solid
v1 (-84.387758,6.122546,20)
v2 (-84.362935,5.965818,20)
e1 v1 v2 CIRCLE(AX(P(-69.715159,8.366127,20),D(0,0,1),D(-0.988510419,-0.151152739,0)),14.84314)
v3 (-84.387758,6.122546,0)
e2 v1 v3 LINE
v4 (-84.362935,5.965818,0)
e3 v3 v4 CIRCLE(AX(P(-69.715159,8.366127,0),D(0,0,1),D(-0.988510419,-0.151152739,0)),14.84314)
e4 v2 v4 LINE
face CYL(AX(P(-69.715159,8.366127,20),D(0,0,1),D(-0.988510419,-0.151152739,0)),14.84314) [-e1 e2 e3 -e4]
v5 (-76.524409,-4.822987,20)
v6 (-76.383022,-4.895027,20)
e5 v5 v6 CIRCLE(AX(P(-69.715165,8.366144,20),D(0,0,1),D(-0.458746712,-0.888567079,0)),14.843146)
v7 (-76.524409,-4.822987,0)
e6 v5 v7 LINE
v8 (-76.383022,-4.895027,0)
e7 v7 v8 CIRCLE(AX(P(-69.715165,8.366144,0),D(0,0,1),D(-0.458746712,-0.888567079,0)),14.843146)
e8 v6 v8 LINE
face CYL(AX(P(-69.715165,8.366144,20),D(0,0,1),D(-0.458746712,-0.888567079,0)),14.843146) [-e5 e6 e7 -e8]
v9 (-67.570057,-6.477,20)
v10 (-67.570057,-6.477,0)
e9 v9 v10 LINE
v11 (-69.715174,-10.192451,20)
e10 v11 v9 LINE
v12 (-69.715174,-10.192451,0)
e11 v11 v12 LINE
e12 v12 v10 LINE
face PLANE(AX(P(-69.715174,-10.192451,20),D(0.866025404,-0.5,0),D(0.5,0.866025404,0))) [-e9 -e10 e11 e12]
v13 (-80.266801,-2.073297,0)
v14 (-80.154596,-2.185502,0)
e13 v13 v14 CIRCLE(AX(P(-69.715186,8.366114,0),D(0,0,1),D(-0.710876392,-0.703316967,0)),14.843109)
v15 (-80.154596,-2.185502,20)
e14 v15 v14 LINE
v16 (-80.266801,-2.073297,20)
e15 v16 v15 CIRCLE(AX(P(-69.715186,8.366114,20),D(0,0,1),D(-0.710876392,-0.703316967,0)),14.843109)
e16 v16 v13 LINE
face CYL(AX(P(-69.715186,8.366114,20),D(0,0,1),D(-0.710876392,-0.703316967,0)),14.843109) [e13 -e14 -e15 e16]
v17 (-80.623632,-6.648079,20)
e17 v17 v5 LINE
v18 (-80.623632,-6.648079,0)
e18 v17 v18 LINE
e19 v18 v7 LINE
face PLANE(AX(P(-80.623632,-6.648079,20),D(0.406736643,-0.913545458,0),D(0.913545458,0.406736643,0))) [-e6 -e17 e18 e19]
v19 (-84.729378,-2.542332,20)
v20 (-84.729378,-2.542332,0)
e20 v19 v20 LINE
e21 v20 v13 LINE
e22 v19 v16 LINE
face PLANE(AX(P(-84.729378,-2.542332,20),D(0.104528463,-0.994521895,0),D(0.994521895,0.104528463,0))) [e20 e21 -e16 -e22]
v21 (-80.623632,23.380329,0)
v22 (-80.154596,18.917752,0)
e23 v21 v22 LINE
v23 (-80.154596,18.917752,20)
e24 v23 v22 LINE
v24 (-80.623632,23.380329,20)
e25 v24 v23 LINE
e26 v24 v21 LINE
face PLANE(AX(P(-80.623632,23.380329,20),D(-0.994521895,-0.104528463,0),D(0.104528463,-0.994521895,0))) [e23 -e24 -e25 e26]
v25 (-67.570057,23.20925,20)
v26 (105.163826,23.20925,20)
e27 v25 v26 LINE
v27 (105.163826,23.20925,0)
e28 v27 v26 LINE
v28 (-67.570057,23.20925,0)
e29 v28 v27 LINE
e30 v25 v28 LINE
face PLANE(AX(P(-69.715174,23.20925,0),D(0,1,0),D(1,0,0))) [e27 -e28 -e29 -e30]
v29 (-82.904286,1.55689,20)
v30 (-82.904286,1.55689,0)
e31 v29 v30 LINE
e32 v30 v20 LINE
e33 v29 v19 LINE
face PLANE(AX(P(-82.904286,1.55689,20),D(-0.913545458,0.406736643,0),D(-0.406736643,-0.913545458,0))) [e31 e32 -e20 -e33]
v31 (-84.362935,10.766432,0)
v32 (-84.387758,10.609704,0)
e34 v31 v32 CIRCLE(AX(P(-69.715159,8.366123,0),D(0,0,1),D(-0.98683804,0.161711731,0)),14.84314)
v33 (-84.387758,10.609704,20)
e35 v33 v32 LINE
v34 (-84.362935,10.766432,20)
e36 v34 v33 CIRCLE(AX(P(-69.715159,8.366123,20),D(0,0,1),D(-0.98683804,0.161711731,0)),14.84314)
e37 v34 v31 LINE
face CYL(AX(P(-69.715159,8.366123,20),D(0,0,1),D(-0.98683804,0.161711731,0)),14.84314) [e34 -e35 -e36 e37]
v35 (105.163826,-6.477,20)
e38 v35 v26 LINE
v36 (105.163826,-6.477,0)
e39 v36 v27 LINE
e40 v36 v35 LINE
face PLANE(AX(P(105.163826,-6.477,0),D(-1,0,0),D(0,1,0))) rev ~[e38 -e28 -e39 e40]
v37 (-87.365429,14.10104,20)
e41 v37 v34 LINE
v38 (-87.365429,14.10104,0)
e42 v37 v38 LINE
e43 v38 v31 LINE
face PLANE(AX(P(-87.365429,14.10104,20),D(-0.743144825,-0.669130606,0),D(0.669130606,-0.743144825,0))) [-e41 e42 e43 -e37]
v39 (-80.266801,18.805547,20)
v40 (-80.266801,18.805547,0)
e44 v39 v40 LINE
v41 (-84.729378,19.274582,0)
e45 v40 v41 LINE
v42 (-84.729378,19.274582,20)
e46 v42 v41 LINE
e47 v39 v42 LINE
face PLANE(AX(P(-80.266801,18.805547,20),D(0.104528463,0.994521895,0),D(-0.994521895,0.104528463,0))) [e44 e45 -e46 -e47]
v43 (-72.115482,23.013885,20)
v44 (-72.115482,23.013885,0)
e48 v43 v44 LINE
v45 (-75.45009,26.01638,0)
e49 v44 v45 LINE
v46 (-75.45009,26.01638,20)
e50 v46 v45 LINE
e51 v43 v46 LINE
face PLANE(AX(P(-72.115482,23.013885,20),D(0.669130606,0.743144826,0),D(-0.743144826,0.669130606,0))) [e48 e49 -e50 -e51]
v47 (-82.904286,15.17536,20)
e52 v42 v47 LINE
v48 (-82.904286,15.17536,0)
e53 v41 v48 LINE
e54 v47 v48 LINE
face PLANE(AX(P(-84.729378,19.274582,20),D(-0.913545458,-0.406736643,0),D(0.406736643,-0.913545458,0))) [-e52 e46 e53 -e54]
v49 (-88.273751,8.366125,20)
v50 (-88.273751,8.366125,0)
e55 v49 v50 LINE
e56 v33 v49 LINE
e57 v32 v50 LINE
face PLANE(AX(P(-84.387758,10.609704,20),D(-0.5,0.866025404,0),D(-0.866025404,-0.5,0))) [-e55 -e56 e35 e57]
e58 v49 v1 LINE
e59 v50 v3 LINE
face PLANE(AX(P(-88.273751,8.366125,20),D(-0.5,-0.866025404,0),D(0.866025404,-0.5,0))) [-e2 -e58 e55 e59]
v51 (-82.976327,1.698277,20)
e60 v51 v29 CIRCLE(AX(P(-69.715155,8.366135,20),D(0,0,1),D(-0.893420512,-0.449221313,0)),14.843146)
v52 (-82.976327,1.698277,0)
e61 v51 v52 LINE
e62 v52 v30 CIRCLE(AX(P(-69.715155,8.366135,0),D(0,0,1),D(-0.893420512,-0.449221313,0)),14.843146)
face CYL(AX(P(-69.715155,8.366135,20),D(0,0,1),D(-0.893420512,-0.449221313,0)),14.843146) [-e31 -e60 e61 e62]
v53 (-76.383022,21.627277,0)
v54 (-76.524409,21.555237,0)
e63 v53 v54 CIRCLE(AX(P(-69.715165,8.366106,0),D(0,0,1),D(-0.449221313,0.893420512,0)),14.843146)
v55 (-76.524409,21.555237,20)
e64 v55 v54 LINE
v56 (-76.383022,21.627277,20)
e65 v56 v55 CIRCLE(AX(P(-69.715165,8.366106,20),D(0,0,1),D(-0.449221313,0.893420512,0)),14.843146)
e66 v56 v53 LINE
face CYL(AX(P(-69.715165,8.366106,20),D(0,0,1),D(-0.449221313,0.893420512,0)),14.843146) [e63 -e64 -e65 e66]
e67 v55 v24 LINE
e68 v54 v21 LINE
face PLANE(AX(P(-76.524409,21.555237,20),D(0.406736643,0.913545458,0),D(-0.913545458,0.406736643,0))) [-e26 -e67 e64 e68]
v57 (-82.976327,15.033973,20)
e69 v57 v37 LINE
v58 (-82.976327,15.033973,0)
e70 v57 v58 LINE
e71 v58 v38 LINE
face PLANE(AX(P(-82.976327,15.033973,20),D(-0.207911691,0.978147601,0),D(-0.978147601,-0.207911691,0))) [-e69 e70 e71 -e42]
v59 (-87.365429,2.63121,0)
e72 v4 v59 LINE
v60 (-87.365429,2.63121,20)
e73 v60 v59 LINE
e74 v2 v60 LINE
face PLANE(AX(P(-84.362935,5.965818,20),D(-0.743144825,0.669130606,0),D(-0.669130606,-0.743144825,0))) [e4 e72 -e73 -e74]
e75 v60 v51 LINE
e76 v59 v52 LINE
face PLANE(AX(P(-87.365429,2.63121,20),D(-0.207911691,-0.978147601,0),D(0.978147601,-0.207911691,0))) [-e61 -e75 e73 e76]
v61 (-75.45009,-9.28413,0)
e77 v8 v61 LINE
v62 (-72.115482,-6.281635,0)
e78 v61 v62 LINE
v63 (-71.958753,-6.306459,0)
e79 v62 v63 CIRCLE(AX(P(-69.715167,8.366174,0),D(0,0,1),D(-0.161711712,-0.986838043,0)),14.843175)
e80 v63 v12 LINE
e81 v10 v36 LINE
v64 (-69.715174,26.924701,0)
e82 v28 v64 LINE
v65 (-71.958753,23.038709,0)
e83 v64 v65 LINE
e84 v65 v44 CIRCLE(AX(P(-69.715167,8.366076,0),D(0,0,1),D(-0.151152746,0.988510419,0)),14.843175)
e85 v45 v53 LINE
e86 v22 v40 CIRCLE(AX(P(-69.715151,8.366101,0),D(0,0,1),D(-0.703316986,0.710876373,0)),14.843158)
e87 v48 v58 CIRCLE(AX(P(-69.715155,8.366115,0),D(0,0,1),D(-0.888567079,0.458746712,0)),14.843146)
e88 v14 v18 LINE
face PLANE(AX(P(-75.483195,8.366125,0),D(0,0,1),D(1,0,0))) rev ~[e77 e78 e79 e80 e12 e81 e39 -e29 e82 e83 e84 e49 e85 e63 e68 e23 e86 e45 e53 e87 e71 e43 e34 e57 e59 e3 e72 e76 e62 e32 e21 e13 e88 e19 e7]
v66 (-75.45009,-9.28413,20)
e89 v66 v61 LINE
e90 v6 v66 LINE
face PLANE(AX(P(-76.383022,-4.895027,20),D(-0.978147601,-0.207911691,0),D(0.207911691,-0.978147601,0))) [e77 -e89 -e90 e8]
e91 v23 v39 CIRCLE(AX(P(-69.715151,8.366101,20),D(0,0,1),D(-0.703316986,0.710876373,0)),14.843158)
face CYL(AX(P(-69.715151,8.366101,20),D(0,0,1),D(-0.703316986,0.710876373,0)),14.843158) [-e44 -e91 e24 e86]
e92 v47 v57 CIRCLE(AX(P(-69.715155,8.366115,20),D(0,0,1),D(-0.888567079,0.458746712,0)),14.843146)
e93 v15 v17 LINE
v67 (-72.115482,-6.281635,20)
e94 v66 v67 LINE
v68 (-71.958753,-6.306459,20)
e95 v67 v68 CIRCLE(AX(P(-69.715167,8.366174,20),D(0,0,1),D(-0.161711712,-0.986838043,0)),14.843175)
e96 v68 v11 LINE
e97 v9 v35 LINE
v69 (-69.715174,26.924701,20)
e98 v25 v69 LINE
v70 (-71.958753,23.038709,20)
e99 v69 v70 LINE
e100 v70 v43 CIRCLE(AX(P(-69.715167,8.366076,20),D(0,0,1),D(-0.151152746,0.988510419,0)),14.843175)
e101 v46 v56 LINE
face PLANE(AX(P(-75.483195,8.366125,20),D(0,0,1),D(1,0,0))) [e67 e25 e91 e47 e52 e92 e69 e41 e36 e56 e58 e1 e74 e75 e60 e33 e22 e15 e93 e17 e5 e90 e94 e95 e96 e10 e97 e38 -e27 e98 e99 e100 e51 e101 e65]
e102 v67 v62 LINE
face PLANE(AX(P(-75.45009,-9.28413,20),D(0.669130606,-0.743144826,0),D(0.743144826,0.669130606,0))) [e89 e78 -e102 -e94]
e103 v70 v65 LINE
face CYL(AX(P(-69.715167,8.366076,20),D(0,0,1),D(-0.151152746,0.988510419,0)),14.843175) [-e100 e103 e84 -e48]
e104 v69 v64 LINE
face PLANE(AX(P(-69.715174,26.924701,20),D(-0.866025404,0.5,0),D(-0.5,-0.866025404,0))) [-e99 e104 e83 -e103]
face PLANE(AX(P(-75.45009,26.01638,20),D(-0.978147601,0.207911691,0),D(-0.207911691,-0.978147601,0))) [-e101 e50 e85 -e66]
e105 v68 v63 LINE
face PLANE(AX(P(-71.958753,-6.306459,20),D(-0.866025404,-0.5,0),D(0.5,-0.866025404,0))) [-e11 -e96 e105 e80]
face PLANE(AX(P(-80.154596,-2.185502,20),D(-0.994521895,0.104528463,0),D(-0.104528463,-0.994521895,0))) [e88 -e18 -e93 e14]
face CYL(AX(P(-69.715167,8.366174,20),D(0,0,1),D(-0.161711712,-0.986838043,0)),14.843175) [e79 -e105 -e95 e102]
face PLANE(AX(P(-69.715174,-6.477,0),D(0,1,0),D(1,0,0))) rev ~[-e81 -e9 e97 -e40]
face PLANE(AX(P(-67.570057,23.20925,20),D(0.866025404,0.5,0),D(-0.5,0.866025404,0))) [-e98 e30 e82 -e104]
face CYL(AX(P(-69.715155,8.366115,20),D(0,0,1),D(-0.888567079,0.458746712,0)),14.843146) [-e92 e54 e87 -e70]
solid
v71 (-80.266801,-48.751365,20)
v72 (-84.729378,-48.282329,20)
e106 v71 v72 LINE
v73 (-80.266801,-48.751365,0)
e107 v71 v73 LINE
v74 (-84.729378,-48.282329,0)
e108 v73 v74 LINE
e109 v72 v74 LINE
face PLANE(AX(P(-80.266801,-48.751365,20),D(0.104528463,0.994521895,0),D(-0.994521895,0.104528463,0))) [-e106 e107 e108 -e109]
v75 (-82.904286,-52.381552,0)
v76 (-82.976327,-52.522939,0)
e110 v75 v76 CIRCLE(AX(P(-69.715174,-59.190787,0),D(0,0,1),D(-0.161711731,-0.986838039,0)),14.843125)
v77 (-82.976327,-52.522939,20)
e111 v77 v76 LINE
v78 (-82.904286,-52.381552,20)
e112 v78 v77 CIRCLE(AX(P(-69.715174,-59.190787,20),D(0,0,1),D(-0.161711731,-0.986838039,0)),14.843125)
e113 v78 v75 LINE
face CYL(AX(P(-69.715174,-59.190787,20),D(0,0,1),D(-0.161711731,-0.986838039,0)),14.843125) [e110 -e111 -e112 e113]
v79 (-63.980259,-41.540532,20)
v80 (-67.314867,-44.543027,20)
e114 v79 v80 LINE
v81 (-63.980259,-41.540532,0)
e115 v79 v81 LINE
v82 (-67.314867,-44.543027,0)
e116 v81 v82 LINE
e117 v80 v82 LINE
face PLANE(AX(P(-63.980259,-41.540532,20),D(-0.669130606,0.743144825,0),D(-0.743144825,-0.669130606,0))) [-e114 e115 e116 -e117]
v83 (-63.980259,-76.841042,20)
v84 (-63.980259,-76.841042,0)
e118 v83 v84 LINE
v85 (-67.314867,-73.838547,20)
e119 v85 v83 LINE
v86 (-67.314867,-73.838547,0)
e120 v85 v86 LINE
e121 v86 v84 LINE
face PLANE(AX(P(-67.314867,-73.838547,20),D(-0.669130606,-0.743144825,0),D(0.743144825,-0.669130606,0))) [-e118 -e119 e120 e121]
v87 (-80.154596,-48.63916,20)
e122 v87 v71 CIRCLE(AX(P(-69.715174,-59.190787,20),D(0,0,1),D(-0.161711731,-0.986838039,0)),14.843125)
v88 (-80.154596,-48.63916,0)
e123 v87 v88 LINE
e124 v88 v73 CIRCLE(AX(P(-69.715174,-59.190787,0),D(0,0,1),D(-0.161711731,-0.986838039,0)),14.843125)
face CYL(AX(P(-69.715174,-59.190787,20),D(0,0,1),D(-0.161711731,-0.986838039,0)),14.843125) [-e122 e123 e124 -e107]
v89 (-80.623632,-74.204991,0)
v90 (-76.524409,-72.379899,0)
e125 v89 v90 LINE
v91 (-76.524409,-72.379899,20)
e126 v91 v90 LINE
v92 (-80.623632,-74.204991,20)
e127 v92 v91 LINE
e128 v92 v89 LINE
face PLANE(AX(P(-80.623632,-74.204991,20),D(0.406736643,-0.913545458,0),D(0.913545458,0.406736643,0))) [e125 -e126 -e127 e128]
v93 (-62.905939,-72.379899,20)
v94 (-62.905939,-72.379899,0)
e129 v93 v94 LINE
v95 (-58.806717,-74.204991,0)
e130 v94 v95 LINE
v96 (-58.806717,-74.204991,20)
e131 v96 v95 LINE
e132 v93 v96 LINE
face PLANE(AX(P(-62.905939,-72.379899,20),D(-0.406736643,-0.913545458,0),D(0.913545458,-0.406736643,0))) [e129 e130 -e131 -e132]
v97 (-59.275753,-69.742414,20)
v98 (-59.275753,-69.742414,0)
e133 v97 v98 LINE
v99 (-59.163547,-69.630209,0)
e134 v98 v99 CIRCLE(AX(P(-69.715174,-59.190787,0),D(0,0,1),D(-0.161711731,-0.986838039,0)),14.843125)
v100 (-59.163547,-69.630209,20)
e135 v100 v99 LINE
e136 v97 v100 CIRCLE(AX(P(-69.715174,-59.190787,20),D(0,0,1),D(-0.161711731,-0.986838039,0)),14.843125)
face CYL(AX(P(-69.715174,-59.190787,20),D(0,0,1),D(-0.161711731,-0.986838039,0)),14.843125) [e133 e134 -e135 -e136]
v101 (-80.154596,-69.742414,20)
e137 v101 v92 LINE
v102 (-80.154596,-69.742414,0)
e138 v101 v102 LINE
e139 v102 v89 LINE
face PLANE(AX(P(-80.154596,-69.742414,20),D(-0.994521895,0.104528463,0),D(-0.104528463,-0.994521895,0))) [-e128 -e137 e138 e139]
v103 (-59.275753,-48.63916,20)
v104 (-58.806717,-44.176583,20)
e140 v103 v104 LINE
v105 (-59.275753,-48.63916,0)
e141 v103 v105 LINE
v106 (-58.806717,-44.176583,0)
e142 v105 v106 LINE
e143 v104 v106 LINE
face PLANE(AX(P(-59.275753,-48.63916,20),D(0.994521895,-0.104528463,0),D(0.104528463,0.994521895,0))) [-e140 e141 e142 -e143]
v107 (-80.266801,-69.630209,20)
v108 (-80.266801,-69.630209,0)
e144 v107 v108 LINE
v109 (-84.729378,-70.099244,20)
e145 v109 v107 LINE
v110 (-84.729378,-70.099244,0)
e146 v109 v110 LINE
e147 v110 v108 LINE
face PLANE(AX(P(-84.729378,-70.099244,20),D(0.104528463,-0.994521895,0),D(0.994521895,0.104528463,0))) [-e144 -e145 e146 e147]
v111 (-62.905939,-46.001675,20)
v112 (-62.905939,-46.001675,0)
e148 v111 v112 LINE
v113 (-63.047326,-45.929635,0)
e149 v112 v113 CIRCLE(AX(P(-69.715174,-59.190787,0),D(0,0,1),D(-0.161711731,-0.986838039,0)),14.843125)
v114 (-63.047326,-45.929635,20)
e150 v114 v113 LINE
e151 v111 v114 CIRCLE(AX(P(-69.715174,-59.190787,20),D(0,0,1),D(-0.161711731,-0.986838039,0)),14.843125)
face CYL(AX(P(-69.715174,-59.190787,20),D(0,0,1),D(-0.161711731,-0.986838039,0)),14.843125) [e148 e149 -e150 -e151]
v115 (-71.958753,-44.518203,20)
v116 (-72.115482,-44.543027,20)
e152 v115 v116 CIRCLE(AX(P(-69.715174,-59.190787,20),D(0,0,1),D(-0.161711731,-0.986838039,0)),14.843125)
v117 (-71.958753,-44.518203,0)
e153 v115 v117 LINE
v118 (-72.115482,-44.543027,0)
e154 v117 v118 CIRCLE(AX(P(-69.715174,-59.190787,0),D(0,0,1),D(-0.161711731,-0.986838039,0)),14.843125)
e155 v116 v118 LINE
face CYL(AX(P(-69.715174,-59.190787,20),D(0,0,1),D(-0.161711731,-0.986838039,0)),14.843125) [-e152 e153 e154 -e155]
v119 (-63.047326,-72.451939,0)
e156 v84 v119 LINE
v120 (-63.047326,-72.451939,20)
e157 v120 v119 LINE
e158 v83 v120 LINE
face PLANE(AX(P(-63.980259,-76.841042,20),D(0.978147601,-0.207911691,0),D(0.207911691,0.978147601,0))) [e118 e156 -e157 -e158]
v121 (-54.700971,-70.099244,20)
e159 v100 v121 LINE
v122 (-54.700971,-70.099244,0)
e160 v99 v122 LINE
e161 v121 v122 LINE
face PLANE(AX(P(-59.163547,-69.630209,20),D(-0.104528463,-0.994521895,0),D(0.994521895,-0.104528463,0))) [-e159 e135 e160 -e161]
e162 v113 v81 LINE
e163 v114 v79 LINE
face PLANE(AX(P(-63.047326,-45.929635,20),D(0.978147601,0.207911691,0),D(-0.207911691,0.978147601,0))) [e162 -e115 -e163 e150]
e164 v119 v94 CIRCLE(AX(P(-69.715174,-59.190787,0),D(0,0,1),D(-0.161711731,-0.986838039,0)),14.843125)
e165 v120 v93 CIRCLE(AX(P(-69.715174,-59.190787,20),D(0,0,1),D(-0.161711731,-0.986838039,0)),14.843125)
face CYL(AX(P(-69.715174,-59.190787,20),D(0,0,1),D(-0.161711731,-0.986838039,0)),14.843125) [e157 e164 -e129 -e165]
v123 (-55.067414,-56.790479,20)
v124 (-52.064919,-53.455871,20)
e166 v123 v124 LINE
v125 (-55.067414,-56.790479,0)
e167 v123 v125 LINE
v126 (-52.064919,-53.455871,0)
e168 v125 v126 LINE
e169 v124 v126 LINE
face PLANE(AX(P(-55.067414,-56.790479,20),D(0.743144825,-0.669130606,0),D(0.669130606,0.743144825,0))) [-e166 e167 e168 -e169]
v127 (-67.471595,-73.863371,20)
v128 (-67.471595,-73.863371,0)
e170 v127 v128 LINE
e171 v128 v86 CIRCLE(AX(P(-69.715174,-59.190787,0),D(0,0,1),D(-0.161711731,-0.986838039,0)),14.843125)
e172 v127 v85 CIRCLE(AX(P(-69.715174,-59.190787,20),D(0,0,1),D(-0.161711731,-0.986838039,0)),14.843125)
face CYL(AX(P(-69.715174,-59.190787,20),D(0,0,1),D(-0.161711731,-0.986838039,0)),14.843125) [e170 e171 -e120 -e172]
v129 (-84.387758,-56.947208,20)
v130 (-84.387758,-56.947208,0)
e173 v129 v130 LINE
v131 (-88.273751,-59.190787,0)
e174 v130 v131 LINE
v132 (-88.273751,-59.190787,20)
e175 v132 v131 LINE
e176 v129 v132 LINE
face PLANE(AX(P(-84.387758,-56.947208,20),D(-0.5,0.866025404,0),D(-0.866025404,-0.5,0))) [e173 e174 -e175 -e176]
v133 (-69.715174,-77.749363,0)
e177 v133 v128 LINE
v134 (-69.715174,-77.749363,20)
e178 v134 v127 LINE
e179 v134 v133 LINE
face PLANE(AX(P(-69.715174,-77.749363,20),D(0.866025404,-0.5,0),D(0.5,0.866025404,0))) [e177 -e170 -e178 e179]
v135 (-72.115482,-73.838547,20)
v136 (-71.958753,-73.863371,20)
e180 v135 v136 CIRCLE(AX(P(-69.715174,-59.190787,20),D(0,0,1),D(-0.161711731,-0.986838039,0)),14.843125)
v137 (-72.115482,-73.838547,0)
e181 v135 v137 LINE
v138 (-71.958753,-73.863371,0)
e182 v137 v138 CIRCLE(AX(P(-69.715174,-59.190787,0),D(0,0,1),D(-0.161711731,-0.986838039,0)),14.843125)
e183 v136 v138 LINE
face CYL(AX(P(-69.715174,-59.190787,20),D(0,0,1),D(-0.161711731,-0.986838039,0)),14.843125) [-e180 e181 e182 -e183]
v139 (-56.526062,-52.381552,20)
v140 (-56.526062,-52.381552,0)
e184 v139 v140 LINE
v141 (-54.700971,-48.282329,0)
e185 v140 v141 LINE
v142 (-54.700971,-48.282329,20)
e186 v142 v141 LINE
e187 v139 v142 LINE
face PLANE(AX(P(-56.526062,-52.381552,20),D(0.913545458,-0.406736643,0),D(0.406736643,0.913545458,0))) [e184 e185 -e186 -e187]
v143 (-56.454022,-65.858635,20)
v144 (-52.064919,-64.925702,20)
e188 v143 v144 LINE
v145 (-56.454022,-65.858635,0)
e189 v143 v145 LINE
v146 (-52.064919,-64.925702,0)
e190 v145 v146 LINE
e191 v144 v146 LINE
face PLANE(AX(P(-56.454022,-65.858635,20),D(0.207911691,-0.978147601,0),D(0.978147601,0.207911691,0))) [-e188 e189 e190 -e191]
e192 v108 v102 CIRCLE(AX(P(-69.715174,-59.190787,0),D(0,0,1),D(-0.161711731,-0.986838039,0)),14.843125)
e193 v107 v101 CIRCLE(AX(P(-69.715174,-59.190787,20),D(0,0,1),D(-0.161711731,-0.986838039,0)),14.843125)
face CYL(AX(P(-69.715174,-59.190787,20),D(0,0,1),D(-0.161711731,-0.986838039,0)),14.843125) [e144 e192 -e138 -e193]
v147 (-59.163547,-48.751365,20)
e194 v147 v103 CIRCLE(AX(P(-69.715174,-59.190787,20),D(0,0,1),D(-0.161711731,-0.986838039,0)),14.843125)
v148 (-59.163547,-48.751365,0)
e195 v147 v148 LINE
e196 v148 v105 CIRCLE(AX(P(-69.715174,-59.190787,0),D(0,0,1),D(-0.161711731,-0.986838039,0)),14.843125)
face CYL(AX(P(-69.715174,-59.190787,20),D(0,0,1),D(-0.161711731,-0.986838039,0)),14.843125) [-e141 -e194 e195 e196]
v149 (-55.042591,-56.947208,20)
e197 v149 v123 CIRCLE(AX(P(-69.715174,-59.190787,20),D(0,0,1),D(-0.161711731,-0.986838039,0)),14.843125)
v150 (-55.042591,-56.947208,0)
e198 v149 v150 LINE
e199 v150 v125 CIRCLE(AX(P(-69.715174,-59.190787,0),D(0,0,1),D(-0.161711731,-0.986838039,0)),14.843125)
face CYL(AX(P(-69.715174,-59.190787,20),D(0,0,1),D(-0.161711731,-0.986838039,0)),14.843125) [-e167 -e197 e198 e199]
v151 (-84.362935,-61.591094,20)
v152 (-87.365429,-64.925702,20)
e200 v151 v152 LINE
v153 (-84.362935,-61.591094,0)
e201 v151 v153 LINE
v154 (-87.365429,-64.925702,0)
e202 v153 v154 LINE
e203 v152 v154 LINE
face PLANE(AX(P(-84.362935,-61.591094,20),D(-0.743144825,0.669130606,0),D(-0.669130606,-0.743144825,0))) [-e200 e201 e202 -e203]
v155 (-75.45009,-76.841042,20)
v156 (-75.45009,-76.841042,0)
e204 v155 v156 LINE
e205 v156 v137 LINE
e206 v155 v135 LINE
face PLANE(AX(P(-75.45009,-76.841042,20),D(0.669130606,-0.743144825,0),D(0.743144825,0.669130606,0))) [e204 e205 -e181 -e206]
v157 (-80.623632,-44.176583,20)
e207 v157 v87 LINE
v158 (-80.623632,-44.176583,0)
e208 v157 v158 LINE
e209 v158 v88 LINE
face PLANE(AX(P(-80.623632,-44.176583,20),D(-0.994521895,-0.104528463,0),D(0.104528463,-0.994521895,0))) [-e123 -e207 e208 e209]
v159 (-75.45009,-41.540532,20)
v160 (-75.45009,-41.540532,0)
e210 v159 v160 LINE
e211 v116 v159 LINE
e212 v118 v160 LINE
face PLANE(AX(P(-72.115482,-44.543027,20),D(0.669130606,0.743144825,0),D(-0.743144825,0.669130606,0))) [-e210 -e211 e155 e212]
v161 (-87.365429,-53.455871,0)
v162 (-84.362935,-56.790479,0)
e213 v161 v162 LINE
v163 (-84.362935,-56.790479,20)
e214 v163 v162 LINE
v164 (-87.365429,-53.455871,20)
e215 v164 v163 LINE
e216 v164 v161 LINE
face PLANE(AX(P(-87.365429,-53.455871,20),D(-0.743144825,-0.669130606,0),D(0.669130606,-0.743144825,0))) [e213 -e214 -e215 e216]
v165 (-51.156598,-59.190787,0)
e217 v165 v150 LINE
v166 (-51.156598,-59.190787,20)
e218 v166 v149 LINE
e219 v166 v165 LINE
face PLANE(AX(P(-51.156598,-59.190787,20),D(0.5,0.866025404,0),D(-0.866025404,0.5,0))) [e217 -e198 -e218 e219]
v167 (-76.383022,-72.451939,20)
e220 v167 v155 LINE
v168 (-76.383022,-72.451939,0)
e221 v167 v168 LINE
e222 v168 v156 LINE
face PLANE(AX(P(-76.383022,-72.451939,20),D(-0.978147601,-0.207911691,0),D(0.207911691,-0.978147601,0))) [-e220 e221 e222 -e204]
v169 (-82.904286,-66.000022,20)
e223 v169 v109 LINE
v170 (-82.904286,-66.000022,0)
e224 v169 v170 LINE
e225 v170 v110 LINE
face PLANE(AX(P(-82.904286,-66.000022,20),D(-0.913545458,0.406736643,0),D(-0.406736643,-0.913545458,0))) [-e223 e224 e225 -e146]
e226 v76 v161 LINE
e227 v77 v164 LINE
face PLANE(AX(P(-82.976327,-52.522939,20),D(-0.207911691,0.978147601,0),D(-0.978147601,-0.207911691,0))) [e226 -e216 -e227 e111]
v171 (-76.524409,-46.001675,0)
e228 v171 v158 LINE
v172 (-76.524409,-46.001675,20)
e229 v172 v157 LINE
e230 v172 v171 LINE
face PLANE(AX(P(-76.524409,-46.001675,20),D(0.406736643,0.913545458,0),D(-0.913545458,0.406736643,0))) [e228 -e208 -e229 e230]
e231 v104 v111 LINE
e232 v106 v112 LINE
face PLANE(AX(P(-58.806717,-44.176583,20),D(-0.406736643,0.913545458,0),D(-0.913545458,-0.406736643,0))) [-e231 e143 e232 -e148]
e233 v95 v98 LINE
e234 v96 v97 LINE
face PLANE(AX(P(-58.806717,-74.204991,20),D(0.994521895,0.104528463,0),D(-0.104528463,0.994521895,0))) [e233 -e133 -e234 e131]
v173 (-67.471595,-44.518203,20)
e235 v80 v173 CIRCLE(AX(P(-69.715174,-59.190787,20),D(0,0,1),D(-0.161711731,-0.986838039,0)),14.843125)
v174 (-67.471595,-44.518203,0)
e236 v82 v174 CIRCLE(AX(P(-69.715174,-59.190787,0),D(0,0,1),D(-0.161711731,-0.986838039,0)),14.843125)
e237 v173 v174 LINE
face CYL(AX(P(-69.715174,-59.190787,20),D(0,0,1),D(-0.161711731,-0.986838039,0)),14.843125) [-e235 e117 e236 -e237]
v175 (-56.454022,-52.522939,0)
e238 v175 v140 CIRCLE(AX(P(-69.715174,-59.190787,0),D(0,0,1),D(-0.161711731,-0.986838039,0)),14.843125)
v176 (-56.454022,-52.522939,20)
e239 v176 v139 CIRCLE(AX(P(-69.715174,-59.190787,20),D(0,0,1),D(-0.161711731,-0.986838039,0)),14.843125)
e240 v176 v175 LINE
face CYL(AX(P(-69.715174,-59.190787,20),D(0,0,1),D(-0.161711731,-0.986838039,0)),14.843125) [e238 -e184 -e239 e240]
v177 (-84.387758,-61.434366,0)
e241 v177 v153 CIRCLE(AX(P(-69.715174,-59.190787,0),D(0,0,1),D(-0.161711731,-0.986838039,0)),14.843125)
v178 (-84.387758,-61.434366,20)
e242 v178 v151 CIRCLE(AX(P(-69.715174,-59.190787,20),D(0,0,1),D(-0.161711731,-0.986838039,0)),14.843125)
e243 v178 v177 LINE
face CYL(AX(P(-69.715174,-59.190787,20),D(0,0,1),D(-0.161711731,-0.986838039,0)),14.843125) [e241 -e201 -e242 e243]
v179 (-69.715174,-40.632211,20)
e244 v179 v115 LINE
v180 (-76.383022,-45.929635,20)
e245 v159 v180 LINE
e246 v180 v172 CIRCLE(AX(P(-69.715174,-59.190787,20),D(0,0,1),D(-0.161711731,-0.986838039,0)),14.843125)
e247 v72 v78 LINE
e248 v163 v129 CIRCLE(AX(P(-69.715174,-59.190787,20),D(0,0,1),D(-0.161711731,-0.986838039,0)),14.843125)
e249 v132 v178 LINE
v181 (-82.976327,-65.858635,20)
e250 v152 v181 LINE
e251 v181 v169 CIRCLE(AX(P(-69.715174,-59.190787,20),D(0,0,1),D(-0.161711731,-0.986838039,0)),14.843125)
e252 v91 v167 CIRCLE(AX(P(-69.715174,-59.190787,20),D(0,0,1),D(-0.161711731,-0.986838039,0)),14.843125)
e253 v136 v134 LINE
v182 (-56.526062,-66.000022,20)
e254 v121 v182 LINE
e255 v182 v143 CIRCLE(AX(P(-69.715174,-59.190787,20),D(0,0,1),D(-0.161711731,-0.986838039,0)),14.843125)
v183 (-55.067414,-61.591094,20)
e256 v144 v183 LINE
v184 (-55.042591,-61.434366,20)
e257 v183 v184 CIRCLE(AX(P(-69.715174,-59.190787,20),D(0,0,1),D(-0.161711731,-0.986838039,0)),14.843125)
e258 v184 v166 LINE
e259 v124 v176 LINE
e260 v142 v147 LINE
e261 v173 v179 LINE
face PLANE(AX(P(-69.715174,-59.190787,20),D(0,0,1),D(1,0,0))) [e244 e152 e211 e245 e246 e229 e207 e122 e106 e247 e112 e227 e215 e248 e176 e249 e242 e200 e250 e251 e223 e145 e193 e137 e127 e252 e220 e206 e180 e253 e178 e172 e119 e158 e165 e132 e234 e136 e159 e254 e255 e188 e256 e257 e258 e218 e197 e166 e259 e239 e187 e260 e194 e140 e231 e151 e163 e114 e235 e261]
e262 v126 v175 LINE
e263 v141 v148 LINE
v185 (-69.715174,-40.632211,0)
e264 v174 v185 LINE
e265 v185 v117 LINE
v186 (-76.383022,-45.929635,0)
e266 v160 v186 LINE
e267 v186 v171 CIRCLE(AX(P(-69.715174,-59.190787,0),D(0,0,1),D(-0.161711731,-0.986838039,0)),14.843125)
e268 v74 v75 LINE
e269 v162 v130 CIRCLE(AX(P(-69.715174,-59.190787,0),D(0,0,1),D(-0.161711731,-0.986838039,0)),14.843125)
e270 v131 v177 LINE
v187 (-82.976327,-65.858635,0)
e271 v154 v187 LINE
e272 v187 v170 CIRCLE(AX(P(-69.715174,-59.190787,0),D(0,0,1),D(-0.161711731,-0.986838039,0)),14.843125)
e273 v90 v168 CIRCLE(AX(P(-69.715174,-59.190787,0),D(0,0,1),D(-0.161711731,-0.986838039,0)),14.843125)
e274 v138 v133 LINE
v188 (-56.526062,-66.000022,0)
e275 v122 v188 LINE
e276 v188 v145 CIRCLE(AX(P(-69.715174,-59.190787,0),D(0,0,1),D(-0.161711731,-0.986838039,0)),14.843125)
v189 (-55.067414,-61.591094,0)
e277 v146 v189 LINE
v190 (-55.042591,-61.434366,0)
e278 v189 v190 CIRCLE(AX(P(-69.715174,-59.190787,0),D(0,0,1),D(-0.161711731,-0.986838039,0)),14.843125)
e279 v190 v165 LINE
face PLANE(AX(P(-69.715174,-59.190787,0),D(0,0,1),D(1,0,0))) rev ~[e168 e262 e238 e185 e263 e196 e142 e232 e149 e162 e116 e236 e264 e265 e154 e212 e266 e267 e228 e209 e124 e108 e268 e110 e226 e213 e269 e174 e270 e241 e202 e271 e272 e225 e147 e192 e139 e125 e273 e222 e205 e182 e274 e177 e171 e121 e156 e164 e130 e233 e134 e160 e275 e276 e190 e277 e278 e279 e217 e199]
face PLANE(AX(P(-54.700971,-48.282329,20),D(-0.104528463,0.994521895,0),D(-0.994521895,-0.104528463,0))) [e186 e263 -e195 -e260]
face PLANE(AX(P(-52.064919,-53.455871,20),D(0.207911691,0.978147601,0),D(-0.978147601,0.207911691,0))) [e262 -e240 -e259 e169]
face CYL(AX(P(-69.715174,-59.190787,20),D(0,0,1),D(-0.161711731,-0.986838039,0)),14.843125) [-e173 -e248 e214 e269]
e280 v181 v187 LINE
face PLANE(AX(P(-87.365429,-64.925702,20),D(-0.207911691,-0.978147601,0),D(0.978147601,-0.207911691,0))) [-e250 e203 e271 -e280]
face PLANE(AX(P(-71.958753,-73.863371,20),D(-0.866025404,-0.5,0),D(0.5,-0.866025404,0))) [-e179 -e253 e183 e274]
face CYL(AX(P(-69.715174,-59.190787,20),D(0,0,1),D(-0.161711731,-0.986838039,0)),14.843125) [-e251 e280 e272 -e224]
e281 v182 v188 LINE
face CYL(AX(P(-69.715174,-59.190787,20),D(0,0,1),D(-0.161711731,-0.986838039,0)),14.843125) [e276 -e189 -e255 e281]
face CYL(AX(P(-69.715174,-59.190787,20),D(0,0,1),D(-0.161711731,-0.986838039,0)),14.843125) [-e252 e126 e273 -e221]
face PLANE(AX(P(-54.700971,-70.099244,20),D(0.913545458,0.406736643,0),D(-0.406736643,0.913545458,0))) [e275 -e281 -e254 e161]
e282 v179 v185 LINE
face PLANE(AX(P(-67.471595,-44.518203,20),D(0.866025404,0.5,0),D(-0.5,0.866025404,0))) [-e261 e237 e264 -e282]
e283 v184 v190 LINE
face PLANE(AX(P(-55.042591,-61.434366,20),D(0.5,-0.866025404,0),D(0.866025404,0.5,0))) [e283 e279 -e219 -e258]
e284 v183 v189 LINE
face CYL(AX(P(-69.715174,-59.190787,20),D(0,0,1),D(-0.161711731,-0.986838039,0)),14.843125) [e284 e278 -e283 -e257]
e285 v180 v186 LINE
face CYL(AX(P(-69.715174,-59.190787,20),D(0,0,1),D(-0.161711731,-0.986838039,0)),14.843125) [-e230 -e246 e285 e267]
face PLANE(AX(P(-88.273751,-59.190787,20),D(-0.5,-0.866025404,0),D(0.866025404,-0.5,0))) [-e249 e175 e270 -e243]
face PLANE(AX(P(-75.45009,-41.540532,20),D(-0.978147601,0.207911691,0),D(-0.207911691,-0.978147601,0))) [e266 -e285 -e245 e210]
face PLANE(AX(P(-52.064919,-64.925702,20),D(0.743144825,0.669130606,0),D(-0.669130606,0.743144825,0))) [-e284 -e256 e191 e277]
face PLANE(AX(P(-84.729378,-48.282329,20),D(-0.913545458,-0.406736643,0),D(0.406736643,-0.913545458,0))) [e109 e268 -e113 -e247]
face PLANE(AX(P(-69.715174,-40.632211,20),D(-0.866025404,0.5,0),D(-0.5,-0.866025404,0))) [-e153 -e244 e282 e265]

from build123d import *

# Parameters (mm, degrees)
IZIM1_W                     = 174.879
IZIM1_H                     = 29.68625
Y_KSEKLIK_EKSTR_ZYON1_DEPTH = 20
IZIM2_R                     = 14.843125
Y_KSEKLIK_EKSTR_ZYON5_DEPTH = 20


with BuildPart() as part:
    # Çizim1 → Yükseklik-Ekstrüzyon1 (new body)
    with BuildSketch(Plane.XY):
        with Locations((17.724325704, 8.366125)):
            Rectangle(IZIM1_W, IZIM1_H)
    extrude(amount=Y_KSEKLIK_EKSTR_ZYON1_DEPTH)

    # Çizim2 → Yükseklik-Ekstrüzyon5 (add, through all)
    with BuildSketch(Plane.XY.offset(20)):
        with Locations((-69.715174296, -59.190786916)):
            Circle(IZIM2_R)
        with BuildLine():
            Line((-75.450089767, -76.841041848), (-72.115481735, -73.83854729))
            ThreePointArc((-72.115481735, -73.83854729), (-74.30195217, -73.30743767), (-76.383022313, -72.451939302))
            Line((-76.383022313, -72.451939302), (-75.450089767, -76.841041848))
        make_face()
        with BuildLine():
            ThreePointArc((-67.471595442, -73.863370659), (-69.715174296, -74.033911916), (-71.95875315, -73.863370659))
            Line((-71.95875315, -73.863370659), (-69.715174296, -77.749363225))
            Line((-69.715174296, -77.749363225), (-67.471595442, -73.863370659))
        make_face()
        with BuildLine():
            ThreePointArc((-63.047326279, -72.451939302), (-65.128396421, -73.30743767), (-67.314866857, -73.83854729))
            Line((-67.314866857, -73.83854729), (-63.980258825, -76.841041848))
            Line((-63.980258825, -76.841041848), (-63.047326279, -72.451939302))
        make_face()
        with BuildLine():
            ThreePointArc((-59.275752538, -69.742413953), (-60.990604323, -71.199127291), (-62.90593938, -72.379899078))
            Line((-62.90593938, -72.379899078), (-58.806716838, -74.204990541))
            Line((-58.806716838, -74.204990541), (-59.275752538, -69.742413953))
        make_face()
        with BuildLine():
            ThreePointArc((-56.526062134, -66.000021832), (-57.706833921, -67.915356889), (-59.163547259, -69.630208674))
            Line((-59.163547259, -69.630208674), (-54.700970671, -70.099244374))
            Line((-54.700970671, -70.099244374), (-56.526062134, -66.000021832))
        make_face()
        with BuildLine():
            ThreePointArc((-55.067413922, -61.591094355), (-55.598523542, -63.777564791), (-56.45402191, -65.858634933))
            Line((-56.45402191, -65.858634933), (-52.064919364, -64.925702387))
            Line((-52.064919364, -64.925702387), (-55.067413922, -61.591094355))
        make_face()
        with BuildLine():
            ThreePointArc((-54.872049296, -59.190786916), (-54.914746019, -60.315812515), (-55.042590553, -61.43436577))
            Line((-55.042590553, -61.43436577), (-51.156597987, -59.190786916))
            Line((-51.156597987, -59.190786916), (-55.042590553, -56.947208062))
            ThreePointArc((-55.042590553, -56.947208062), (-54.914746019, -58.065761317), (-54.872049296, -59.190786916))
        make_face()
        with BuildLine():
            ThreePointArc((-56.45402191, -52.522938899), (-55.598523542, -54.604009042), (-55.067413922, -56.790479477))
            Line((-55.067413922, -56.790479477), (-52.064919364, -53.455871445))
            Line((-52.064919364, -53.455871445), (-56.45402191, -52.522938899))
        make_face()
        with BuildLine():
            ThreePointArc((-59.163547259, -48.751365158), (-57.706833921, -50.466216943), (-56.526062134, -52.381552))
            Line((-56.526062134, -52.381552), (-54.700970671, -48.282329458))
            Line((-54.700970671, -48.282329458), (-59.163547259, -48.751365158))
        make_face()
        with BuildLine():
            ThreePointArc((-62.90593938, -46.001674754), (-60.990604323, -47.182446542), (-59.275752538, -48.63915988))
            Line((-59.275752538, -48.639159879), (-58.806716838, -44.176583291))
            Line((-58.806716838, -44.176583291), (-62.90593938, -46.001674754))
        make_face()
        with BuildLine():
            Line((-63.980258825, -41.540531985), (-67.314866857, -44.543026543))
            ThreePointArc((-67.314866857, -44.543026543), (-65.128396421, -45.074136163), (-63.047326279, -45.929634531))
            Line((-63.047326279, -45.929634531), (-63.980258825, -41.540531985))
        make_face()
        with BuildLine():
            Line((-69.715174296, -40.632210608), (-71.95875315, -44.518203173))
            ThreePointArc((-71.95875315, -44.518203173), (-69.715174296, -44.347661916), (-67.471595442, -44.518203173))
            Line((-67.471595442, -44.518203173), (-69.715174296, -40.632210608))
        make_face()
        with BuildLine():
            Line((-75.450089767, -41.540531985), (-76.383022313, -45.929634531))
            ThreePointArc((-76.383022313, -45.929634531), (-74.30195217, -45.074136163), (-72.115481735, -44.543026543))
            Line((-72.115481735, -44.543026543), (-75.450089767, -41.540531985))
        make_face()
        with BuildLine():
            Line((-80.623631754, -44.176583291), (-80.154596054, -48.639159879))
            ThreePointArc((-80.154596054, -48.639159879), (-78.439744269, -47.182446542), (-76.524409212, -46.001674754))
            Line((-76.524409212, -46.001674754), (-80.623631754, -44.176583291))
        make_face()
        with BuildLine():
            Line((-84.729377921, -48.282329458), (-82.904286458, -52.381552))
            ThreePointArc((-82.904286458, -52.381552), (-81.72351467, -50.466216943), (-80.266801332, -48.751365158))
            Line((-80.266801332, -48.751365158), (-84.729377921, -48.282329458))
        make_face()
        with BuildLine():
            Line((-87.365429227, -53.455871445), (-84.362934669, -56.790479477))
            ThreePointArc((-84.362934669, -56.790479477), (-83.831825049, -54.604009042), (-82.976326681, -52.522938899))
            Line((-82.976326681, -52.522938899), (-87.365429227, -53.455871445))
        make_face()
        with BuildLine():
            Line((-88.273750604, -59.190786916), (-84.387758039, -61.43436577))
            ThreePointArc((-84.387758039, -61.43436577), (-84.558299296, -59.190786916), (-84.387758039, -56.947208062))
            Line((-84.387758039, -56.947208062), (-88.273750604, -59.190786916))
        make_face()
        with BuildLine():
            Line((-87.365429227, -64.925702387), (-82.976326681, -65.858634933))
            ThreePointArc((-82.976326681, -65.858634933), (-83.831825049, -63.777564791), (-84.362934669, -61.591094355))
            Line((-84.362934669, -61.591094355), (-87.365429227, -64.925702387))
        make_face()
        with BuildLine():
            Line((-84.729377921, -70.099244374), (-80.266801332, -69.630208674))
            ThreePointArc((-80.266801332, -69.630208674), (-81.72351467, -67.915356889), (-82.904286458, -66.000021832))
            Line((-82.904286458, -66.000021832), (-84.729377921, -70.099244374))
        make_face()
        with BuildLine():
            Line((-80.623631754, -74.204990541), (-76.524409212, -72.379899078))
            ThreePointArc((-76.524409212, -72.379899078), (-78.439744269, -71.199127291), (-80.154596054, -69.742413953))
            Line((-80.154596054, -69.742413953), (-80.623631754, -74.204990541))
        make_face()
        with BuildLine():
            Line((-69.715174296, -6.477), (-69.715174296, 23.20925))
            ThreePointArc((-69.715174296, 23.20925), (-70.840199895, 23.166553276), (-71.95875315, 23.038708743))
            ThreePointArc((-71.95875315, 23.038708743), (-72.037150615, 23.0265065), (-72.115481735, 23.013885374))
            ThreePointArc((-72.115481735, 23.013885374), (-74.30195217, 22.482775753), (-76.383022313, 21.627277385))
            ThreePointArc((-76.383022313, 21.627277385), (-76.453812032, 21.591446214), (-76.524409212, 21.555237162))
            ThreePointArc((-76.524409212, 21.555237162), (-78.439744269, 20.374465375), (-80.154596054, 18.917752037))
            ThreePointArc((-80.154596054, 18.917752037), (-80.210848637, 18.861799341), (-80.266801332, 18.805546758))
            ThreePointArc((-80.266801332, 18.805546758), (-81.72351467, 17.090694973), (-82.904286458, 15.175359916))
            ThreePointArc((-82.904286458, 15.175359916), (-82.94049551, 15.104762736), (-82.976326681, 15.033973017))
            ThreePointArc((-82.976326681, 15.033973017), (-83.831825049, 12.952902875), (-84.362934669, 10.766432439))
            ThreePointArc((-84.362934669, 10.766432439), (-84.375555796, 10.688101319), (-84.387758039, 10.609703854))
            ThreePointArc((-84.387758039, 10.609703854), (-84.558299296, 8.366125), (-84.387758039, 6.122546146))
            ThreePointArc((-84.387758039, 6.122546146), (-84.375555796, 6.044148681), (-84.362934669, 5.965817561))
            ThreePointArc((-84.362934669, 5.965817561), (-83.831825049, 3.779347125), (-82.976326681, 1.698276983))
            ThreePointArc((-82.976326681, 1.698276983), (-82.94049551, 1.627487264), (-82.904286458, 1.556890084))
            ThreePointArc((-82.904286458, 1.556890084), (-81.72351467, -0.358444973), (-80.266801332, -2.073296758))
            ThreePointArc((-80.266801332, -2.073296758), (-80.210848637, -2.129549342), (-80.154596054, -2.185502037))
            ThreePointArc((-80.154596054, -2.185502037), (-78.439744269, -3.642215375), (-76.524409212, -4.822987162))
            ThreePointArc((-76.524409212, -4.822987162), (-76.453812032, -4.859196214), (-76.383022313, -4.895027385))
            ThreePointArc((-76.383022313, -4.895027385), (-74.30195217, -5.750525753), (-72.115481735, -6.281635374))
            ThreePointArc((-72.115481735, -6.281635374), (-72.037150615, -6.2942565), (-71.95875315, -6.306458743))
            ThreePointArc((-71.95875315, -6.306458743), (-70.840199895, -6.434303276), (-69.715174296, -6.477))
        make_face()
        with BuildLine():
            Line((-75.450089767, -9.284129931), (-72.115481735, -6.281635374))
            ThreePointArc((-72.115481735, -6.281635374), (-74.30195217, -5.750525753), (-76.383022313, -4.895027385))
            Line((-76.383022313, -4.895027385), (-75.450089767, -9.284129931))
        make_face()
        with BuildLine():
            Line((-67.570057483, -6.477), (-69.715174296, -6.477))
            ThreePointArc((-69.715174296, -6.477), (-70.840199895, -6.434303276), (-71.95875315, -6.306458743))
            Line((-71.95875315, -6.306458743), (-69.715174296, -10.192451309))
            Line((-69.715174296, -10.192451309), (-67.570057483, -6.477))
        make_face()
        with BuildLine():
            Line((-80.623631754, -6.648078625), (-76.524409212, -4.822987162))
            ThreePointArc((-76.524409212, -4.822987162), (-78.439744269, -3.642215375), (-80.154596054, -2.185502037))
            Line((-80.154596054, -2.185502037), (-80.623631754, -6.648078625))
        make_face()
        with BuildLine():
            Line((-84.729377921, -2.542332458), (-80.266801332, -2.073296758))
            ThreePointArc((-80.266801332, -2.073296758), (-81.72351467, -0.358444973), (-82.904286458, 1.556890084))
            Line((-82.904286458, 1.556890084), (-84.729377921, -2.542332458))
        make_face()
        with BuildLine():
            Line((-87.365429227, 2.631209529), (-82.976326681, 1.698276983))
            ThreePointArc((-82.976326681, 1.698276983), (-83.831825049, 3.779347125), (-84.362934669, 5.965817561))
            Line((-84.362934669, 5.965817561), (-87.365429227, 2.631209529))
        make_face()
        with BuildLine():
            ThreePointArc((-84.387758039, 6.122546146), (-84.558299296, 8.366125), (-84.387758039, 10.609703854))
            Line((-84.387758039, 10.609703854), (-88.273750604, 8.366125))
            Line((-88.273750604, 8.366125), (-84.387758039, 6.122546146))
        make_face()
        with BuildLine():
            ThreePointArc((-84.362934669, 10.766432439), (-83.831825049, 12.952902875), (-82.976326681, 15.033973017))
            Line((-82.976326681, 15.033973017), (-87.365429227, 14.101040471))
            Line((-87.365429227, 14.101040471), (-84.362934669, 10.766432439))
        make_face()
        with BuildLine():
            ThreePointArc((-82.904286458, 15.175359916), (-81.72351467, 17.090694973), (-80.266801332, 18.805546758))
            Line((-80.266801332, 18.805546758), (-84.729377921, 19.274582458))
            Line((-84.729377921, 19.274582458), (-82.904286458, 15.175359916))
        make_face()
        with BuildLine():
            ThreePointArc((-80.154596054, 18.917752037), (-78.439744269, 20.374465375), (-76.524409212, 21.555237162))
            Line((-76.524409212, 21.555237162), (-80.623631754, 23.380328625))
            Line((-80.623631754, 23.380328625), (-80.154596054, 18.917752037))
        make_face()
        with BuildLine():
            ThreePointArc((-76.383022313, 21.627277385), (-74.30195217, 22.482775753), (-72.115481735, 23.013885374))
            Line((-72.115481735, 23.013885374), (-75.450089767, 26.016379931))
            Line((-75.450089767, 26.016379931), (-76.383022313, 21.627277385))
        make_face()
        with BuildLine():
            Line((-69.715174296, 23.20925), (-67.570057483, 23.20925))
            Line((-67.570057483, 23.20925), (-69.715174296, 26.924701309))
            Line((-69.715174296, 26.924701309), (-71.95875315, 23.038708743))
            ThreePointArc((-71.95875315, 23.038708743), (-70.840199895, 23.166553276), (-69.715174296, 23.20925))
        make_face()
    extrude(amount=-Y_KSEKLIK_EKSTR_ZYON5_DEPTH)


with BuildPart() as y_kseklik_ekstr_zyon5_piece_1:
    # of the separate pieces the step leaves, piece 1, a body of its own (y_kseklik_ekstr_zyon5_pieces)
    add(part.part.solids().sort_by_distance((-67.570057483, -6.477, 0))[0])


with BuildPart() as y_kseklik_ekstr_zyon5_piece_2:
    # of the separate pieces the step leaves, piece 2, a body of its own (y_kseklik_ekstr_zyon5_pieces)
    add(part.part.solids().sort_by_distance((-76.383022313, -72.451939302, 20))[0])


solid = Compound([y_kseklik_ekstr_zyon5_piece_1.part, y_kseklik_ekstr_zyon5_piece_2.part])
